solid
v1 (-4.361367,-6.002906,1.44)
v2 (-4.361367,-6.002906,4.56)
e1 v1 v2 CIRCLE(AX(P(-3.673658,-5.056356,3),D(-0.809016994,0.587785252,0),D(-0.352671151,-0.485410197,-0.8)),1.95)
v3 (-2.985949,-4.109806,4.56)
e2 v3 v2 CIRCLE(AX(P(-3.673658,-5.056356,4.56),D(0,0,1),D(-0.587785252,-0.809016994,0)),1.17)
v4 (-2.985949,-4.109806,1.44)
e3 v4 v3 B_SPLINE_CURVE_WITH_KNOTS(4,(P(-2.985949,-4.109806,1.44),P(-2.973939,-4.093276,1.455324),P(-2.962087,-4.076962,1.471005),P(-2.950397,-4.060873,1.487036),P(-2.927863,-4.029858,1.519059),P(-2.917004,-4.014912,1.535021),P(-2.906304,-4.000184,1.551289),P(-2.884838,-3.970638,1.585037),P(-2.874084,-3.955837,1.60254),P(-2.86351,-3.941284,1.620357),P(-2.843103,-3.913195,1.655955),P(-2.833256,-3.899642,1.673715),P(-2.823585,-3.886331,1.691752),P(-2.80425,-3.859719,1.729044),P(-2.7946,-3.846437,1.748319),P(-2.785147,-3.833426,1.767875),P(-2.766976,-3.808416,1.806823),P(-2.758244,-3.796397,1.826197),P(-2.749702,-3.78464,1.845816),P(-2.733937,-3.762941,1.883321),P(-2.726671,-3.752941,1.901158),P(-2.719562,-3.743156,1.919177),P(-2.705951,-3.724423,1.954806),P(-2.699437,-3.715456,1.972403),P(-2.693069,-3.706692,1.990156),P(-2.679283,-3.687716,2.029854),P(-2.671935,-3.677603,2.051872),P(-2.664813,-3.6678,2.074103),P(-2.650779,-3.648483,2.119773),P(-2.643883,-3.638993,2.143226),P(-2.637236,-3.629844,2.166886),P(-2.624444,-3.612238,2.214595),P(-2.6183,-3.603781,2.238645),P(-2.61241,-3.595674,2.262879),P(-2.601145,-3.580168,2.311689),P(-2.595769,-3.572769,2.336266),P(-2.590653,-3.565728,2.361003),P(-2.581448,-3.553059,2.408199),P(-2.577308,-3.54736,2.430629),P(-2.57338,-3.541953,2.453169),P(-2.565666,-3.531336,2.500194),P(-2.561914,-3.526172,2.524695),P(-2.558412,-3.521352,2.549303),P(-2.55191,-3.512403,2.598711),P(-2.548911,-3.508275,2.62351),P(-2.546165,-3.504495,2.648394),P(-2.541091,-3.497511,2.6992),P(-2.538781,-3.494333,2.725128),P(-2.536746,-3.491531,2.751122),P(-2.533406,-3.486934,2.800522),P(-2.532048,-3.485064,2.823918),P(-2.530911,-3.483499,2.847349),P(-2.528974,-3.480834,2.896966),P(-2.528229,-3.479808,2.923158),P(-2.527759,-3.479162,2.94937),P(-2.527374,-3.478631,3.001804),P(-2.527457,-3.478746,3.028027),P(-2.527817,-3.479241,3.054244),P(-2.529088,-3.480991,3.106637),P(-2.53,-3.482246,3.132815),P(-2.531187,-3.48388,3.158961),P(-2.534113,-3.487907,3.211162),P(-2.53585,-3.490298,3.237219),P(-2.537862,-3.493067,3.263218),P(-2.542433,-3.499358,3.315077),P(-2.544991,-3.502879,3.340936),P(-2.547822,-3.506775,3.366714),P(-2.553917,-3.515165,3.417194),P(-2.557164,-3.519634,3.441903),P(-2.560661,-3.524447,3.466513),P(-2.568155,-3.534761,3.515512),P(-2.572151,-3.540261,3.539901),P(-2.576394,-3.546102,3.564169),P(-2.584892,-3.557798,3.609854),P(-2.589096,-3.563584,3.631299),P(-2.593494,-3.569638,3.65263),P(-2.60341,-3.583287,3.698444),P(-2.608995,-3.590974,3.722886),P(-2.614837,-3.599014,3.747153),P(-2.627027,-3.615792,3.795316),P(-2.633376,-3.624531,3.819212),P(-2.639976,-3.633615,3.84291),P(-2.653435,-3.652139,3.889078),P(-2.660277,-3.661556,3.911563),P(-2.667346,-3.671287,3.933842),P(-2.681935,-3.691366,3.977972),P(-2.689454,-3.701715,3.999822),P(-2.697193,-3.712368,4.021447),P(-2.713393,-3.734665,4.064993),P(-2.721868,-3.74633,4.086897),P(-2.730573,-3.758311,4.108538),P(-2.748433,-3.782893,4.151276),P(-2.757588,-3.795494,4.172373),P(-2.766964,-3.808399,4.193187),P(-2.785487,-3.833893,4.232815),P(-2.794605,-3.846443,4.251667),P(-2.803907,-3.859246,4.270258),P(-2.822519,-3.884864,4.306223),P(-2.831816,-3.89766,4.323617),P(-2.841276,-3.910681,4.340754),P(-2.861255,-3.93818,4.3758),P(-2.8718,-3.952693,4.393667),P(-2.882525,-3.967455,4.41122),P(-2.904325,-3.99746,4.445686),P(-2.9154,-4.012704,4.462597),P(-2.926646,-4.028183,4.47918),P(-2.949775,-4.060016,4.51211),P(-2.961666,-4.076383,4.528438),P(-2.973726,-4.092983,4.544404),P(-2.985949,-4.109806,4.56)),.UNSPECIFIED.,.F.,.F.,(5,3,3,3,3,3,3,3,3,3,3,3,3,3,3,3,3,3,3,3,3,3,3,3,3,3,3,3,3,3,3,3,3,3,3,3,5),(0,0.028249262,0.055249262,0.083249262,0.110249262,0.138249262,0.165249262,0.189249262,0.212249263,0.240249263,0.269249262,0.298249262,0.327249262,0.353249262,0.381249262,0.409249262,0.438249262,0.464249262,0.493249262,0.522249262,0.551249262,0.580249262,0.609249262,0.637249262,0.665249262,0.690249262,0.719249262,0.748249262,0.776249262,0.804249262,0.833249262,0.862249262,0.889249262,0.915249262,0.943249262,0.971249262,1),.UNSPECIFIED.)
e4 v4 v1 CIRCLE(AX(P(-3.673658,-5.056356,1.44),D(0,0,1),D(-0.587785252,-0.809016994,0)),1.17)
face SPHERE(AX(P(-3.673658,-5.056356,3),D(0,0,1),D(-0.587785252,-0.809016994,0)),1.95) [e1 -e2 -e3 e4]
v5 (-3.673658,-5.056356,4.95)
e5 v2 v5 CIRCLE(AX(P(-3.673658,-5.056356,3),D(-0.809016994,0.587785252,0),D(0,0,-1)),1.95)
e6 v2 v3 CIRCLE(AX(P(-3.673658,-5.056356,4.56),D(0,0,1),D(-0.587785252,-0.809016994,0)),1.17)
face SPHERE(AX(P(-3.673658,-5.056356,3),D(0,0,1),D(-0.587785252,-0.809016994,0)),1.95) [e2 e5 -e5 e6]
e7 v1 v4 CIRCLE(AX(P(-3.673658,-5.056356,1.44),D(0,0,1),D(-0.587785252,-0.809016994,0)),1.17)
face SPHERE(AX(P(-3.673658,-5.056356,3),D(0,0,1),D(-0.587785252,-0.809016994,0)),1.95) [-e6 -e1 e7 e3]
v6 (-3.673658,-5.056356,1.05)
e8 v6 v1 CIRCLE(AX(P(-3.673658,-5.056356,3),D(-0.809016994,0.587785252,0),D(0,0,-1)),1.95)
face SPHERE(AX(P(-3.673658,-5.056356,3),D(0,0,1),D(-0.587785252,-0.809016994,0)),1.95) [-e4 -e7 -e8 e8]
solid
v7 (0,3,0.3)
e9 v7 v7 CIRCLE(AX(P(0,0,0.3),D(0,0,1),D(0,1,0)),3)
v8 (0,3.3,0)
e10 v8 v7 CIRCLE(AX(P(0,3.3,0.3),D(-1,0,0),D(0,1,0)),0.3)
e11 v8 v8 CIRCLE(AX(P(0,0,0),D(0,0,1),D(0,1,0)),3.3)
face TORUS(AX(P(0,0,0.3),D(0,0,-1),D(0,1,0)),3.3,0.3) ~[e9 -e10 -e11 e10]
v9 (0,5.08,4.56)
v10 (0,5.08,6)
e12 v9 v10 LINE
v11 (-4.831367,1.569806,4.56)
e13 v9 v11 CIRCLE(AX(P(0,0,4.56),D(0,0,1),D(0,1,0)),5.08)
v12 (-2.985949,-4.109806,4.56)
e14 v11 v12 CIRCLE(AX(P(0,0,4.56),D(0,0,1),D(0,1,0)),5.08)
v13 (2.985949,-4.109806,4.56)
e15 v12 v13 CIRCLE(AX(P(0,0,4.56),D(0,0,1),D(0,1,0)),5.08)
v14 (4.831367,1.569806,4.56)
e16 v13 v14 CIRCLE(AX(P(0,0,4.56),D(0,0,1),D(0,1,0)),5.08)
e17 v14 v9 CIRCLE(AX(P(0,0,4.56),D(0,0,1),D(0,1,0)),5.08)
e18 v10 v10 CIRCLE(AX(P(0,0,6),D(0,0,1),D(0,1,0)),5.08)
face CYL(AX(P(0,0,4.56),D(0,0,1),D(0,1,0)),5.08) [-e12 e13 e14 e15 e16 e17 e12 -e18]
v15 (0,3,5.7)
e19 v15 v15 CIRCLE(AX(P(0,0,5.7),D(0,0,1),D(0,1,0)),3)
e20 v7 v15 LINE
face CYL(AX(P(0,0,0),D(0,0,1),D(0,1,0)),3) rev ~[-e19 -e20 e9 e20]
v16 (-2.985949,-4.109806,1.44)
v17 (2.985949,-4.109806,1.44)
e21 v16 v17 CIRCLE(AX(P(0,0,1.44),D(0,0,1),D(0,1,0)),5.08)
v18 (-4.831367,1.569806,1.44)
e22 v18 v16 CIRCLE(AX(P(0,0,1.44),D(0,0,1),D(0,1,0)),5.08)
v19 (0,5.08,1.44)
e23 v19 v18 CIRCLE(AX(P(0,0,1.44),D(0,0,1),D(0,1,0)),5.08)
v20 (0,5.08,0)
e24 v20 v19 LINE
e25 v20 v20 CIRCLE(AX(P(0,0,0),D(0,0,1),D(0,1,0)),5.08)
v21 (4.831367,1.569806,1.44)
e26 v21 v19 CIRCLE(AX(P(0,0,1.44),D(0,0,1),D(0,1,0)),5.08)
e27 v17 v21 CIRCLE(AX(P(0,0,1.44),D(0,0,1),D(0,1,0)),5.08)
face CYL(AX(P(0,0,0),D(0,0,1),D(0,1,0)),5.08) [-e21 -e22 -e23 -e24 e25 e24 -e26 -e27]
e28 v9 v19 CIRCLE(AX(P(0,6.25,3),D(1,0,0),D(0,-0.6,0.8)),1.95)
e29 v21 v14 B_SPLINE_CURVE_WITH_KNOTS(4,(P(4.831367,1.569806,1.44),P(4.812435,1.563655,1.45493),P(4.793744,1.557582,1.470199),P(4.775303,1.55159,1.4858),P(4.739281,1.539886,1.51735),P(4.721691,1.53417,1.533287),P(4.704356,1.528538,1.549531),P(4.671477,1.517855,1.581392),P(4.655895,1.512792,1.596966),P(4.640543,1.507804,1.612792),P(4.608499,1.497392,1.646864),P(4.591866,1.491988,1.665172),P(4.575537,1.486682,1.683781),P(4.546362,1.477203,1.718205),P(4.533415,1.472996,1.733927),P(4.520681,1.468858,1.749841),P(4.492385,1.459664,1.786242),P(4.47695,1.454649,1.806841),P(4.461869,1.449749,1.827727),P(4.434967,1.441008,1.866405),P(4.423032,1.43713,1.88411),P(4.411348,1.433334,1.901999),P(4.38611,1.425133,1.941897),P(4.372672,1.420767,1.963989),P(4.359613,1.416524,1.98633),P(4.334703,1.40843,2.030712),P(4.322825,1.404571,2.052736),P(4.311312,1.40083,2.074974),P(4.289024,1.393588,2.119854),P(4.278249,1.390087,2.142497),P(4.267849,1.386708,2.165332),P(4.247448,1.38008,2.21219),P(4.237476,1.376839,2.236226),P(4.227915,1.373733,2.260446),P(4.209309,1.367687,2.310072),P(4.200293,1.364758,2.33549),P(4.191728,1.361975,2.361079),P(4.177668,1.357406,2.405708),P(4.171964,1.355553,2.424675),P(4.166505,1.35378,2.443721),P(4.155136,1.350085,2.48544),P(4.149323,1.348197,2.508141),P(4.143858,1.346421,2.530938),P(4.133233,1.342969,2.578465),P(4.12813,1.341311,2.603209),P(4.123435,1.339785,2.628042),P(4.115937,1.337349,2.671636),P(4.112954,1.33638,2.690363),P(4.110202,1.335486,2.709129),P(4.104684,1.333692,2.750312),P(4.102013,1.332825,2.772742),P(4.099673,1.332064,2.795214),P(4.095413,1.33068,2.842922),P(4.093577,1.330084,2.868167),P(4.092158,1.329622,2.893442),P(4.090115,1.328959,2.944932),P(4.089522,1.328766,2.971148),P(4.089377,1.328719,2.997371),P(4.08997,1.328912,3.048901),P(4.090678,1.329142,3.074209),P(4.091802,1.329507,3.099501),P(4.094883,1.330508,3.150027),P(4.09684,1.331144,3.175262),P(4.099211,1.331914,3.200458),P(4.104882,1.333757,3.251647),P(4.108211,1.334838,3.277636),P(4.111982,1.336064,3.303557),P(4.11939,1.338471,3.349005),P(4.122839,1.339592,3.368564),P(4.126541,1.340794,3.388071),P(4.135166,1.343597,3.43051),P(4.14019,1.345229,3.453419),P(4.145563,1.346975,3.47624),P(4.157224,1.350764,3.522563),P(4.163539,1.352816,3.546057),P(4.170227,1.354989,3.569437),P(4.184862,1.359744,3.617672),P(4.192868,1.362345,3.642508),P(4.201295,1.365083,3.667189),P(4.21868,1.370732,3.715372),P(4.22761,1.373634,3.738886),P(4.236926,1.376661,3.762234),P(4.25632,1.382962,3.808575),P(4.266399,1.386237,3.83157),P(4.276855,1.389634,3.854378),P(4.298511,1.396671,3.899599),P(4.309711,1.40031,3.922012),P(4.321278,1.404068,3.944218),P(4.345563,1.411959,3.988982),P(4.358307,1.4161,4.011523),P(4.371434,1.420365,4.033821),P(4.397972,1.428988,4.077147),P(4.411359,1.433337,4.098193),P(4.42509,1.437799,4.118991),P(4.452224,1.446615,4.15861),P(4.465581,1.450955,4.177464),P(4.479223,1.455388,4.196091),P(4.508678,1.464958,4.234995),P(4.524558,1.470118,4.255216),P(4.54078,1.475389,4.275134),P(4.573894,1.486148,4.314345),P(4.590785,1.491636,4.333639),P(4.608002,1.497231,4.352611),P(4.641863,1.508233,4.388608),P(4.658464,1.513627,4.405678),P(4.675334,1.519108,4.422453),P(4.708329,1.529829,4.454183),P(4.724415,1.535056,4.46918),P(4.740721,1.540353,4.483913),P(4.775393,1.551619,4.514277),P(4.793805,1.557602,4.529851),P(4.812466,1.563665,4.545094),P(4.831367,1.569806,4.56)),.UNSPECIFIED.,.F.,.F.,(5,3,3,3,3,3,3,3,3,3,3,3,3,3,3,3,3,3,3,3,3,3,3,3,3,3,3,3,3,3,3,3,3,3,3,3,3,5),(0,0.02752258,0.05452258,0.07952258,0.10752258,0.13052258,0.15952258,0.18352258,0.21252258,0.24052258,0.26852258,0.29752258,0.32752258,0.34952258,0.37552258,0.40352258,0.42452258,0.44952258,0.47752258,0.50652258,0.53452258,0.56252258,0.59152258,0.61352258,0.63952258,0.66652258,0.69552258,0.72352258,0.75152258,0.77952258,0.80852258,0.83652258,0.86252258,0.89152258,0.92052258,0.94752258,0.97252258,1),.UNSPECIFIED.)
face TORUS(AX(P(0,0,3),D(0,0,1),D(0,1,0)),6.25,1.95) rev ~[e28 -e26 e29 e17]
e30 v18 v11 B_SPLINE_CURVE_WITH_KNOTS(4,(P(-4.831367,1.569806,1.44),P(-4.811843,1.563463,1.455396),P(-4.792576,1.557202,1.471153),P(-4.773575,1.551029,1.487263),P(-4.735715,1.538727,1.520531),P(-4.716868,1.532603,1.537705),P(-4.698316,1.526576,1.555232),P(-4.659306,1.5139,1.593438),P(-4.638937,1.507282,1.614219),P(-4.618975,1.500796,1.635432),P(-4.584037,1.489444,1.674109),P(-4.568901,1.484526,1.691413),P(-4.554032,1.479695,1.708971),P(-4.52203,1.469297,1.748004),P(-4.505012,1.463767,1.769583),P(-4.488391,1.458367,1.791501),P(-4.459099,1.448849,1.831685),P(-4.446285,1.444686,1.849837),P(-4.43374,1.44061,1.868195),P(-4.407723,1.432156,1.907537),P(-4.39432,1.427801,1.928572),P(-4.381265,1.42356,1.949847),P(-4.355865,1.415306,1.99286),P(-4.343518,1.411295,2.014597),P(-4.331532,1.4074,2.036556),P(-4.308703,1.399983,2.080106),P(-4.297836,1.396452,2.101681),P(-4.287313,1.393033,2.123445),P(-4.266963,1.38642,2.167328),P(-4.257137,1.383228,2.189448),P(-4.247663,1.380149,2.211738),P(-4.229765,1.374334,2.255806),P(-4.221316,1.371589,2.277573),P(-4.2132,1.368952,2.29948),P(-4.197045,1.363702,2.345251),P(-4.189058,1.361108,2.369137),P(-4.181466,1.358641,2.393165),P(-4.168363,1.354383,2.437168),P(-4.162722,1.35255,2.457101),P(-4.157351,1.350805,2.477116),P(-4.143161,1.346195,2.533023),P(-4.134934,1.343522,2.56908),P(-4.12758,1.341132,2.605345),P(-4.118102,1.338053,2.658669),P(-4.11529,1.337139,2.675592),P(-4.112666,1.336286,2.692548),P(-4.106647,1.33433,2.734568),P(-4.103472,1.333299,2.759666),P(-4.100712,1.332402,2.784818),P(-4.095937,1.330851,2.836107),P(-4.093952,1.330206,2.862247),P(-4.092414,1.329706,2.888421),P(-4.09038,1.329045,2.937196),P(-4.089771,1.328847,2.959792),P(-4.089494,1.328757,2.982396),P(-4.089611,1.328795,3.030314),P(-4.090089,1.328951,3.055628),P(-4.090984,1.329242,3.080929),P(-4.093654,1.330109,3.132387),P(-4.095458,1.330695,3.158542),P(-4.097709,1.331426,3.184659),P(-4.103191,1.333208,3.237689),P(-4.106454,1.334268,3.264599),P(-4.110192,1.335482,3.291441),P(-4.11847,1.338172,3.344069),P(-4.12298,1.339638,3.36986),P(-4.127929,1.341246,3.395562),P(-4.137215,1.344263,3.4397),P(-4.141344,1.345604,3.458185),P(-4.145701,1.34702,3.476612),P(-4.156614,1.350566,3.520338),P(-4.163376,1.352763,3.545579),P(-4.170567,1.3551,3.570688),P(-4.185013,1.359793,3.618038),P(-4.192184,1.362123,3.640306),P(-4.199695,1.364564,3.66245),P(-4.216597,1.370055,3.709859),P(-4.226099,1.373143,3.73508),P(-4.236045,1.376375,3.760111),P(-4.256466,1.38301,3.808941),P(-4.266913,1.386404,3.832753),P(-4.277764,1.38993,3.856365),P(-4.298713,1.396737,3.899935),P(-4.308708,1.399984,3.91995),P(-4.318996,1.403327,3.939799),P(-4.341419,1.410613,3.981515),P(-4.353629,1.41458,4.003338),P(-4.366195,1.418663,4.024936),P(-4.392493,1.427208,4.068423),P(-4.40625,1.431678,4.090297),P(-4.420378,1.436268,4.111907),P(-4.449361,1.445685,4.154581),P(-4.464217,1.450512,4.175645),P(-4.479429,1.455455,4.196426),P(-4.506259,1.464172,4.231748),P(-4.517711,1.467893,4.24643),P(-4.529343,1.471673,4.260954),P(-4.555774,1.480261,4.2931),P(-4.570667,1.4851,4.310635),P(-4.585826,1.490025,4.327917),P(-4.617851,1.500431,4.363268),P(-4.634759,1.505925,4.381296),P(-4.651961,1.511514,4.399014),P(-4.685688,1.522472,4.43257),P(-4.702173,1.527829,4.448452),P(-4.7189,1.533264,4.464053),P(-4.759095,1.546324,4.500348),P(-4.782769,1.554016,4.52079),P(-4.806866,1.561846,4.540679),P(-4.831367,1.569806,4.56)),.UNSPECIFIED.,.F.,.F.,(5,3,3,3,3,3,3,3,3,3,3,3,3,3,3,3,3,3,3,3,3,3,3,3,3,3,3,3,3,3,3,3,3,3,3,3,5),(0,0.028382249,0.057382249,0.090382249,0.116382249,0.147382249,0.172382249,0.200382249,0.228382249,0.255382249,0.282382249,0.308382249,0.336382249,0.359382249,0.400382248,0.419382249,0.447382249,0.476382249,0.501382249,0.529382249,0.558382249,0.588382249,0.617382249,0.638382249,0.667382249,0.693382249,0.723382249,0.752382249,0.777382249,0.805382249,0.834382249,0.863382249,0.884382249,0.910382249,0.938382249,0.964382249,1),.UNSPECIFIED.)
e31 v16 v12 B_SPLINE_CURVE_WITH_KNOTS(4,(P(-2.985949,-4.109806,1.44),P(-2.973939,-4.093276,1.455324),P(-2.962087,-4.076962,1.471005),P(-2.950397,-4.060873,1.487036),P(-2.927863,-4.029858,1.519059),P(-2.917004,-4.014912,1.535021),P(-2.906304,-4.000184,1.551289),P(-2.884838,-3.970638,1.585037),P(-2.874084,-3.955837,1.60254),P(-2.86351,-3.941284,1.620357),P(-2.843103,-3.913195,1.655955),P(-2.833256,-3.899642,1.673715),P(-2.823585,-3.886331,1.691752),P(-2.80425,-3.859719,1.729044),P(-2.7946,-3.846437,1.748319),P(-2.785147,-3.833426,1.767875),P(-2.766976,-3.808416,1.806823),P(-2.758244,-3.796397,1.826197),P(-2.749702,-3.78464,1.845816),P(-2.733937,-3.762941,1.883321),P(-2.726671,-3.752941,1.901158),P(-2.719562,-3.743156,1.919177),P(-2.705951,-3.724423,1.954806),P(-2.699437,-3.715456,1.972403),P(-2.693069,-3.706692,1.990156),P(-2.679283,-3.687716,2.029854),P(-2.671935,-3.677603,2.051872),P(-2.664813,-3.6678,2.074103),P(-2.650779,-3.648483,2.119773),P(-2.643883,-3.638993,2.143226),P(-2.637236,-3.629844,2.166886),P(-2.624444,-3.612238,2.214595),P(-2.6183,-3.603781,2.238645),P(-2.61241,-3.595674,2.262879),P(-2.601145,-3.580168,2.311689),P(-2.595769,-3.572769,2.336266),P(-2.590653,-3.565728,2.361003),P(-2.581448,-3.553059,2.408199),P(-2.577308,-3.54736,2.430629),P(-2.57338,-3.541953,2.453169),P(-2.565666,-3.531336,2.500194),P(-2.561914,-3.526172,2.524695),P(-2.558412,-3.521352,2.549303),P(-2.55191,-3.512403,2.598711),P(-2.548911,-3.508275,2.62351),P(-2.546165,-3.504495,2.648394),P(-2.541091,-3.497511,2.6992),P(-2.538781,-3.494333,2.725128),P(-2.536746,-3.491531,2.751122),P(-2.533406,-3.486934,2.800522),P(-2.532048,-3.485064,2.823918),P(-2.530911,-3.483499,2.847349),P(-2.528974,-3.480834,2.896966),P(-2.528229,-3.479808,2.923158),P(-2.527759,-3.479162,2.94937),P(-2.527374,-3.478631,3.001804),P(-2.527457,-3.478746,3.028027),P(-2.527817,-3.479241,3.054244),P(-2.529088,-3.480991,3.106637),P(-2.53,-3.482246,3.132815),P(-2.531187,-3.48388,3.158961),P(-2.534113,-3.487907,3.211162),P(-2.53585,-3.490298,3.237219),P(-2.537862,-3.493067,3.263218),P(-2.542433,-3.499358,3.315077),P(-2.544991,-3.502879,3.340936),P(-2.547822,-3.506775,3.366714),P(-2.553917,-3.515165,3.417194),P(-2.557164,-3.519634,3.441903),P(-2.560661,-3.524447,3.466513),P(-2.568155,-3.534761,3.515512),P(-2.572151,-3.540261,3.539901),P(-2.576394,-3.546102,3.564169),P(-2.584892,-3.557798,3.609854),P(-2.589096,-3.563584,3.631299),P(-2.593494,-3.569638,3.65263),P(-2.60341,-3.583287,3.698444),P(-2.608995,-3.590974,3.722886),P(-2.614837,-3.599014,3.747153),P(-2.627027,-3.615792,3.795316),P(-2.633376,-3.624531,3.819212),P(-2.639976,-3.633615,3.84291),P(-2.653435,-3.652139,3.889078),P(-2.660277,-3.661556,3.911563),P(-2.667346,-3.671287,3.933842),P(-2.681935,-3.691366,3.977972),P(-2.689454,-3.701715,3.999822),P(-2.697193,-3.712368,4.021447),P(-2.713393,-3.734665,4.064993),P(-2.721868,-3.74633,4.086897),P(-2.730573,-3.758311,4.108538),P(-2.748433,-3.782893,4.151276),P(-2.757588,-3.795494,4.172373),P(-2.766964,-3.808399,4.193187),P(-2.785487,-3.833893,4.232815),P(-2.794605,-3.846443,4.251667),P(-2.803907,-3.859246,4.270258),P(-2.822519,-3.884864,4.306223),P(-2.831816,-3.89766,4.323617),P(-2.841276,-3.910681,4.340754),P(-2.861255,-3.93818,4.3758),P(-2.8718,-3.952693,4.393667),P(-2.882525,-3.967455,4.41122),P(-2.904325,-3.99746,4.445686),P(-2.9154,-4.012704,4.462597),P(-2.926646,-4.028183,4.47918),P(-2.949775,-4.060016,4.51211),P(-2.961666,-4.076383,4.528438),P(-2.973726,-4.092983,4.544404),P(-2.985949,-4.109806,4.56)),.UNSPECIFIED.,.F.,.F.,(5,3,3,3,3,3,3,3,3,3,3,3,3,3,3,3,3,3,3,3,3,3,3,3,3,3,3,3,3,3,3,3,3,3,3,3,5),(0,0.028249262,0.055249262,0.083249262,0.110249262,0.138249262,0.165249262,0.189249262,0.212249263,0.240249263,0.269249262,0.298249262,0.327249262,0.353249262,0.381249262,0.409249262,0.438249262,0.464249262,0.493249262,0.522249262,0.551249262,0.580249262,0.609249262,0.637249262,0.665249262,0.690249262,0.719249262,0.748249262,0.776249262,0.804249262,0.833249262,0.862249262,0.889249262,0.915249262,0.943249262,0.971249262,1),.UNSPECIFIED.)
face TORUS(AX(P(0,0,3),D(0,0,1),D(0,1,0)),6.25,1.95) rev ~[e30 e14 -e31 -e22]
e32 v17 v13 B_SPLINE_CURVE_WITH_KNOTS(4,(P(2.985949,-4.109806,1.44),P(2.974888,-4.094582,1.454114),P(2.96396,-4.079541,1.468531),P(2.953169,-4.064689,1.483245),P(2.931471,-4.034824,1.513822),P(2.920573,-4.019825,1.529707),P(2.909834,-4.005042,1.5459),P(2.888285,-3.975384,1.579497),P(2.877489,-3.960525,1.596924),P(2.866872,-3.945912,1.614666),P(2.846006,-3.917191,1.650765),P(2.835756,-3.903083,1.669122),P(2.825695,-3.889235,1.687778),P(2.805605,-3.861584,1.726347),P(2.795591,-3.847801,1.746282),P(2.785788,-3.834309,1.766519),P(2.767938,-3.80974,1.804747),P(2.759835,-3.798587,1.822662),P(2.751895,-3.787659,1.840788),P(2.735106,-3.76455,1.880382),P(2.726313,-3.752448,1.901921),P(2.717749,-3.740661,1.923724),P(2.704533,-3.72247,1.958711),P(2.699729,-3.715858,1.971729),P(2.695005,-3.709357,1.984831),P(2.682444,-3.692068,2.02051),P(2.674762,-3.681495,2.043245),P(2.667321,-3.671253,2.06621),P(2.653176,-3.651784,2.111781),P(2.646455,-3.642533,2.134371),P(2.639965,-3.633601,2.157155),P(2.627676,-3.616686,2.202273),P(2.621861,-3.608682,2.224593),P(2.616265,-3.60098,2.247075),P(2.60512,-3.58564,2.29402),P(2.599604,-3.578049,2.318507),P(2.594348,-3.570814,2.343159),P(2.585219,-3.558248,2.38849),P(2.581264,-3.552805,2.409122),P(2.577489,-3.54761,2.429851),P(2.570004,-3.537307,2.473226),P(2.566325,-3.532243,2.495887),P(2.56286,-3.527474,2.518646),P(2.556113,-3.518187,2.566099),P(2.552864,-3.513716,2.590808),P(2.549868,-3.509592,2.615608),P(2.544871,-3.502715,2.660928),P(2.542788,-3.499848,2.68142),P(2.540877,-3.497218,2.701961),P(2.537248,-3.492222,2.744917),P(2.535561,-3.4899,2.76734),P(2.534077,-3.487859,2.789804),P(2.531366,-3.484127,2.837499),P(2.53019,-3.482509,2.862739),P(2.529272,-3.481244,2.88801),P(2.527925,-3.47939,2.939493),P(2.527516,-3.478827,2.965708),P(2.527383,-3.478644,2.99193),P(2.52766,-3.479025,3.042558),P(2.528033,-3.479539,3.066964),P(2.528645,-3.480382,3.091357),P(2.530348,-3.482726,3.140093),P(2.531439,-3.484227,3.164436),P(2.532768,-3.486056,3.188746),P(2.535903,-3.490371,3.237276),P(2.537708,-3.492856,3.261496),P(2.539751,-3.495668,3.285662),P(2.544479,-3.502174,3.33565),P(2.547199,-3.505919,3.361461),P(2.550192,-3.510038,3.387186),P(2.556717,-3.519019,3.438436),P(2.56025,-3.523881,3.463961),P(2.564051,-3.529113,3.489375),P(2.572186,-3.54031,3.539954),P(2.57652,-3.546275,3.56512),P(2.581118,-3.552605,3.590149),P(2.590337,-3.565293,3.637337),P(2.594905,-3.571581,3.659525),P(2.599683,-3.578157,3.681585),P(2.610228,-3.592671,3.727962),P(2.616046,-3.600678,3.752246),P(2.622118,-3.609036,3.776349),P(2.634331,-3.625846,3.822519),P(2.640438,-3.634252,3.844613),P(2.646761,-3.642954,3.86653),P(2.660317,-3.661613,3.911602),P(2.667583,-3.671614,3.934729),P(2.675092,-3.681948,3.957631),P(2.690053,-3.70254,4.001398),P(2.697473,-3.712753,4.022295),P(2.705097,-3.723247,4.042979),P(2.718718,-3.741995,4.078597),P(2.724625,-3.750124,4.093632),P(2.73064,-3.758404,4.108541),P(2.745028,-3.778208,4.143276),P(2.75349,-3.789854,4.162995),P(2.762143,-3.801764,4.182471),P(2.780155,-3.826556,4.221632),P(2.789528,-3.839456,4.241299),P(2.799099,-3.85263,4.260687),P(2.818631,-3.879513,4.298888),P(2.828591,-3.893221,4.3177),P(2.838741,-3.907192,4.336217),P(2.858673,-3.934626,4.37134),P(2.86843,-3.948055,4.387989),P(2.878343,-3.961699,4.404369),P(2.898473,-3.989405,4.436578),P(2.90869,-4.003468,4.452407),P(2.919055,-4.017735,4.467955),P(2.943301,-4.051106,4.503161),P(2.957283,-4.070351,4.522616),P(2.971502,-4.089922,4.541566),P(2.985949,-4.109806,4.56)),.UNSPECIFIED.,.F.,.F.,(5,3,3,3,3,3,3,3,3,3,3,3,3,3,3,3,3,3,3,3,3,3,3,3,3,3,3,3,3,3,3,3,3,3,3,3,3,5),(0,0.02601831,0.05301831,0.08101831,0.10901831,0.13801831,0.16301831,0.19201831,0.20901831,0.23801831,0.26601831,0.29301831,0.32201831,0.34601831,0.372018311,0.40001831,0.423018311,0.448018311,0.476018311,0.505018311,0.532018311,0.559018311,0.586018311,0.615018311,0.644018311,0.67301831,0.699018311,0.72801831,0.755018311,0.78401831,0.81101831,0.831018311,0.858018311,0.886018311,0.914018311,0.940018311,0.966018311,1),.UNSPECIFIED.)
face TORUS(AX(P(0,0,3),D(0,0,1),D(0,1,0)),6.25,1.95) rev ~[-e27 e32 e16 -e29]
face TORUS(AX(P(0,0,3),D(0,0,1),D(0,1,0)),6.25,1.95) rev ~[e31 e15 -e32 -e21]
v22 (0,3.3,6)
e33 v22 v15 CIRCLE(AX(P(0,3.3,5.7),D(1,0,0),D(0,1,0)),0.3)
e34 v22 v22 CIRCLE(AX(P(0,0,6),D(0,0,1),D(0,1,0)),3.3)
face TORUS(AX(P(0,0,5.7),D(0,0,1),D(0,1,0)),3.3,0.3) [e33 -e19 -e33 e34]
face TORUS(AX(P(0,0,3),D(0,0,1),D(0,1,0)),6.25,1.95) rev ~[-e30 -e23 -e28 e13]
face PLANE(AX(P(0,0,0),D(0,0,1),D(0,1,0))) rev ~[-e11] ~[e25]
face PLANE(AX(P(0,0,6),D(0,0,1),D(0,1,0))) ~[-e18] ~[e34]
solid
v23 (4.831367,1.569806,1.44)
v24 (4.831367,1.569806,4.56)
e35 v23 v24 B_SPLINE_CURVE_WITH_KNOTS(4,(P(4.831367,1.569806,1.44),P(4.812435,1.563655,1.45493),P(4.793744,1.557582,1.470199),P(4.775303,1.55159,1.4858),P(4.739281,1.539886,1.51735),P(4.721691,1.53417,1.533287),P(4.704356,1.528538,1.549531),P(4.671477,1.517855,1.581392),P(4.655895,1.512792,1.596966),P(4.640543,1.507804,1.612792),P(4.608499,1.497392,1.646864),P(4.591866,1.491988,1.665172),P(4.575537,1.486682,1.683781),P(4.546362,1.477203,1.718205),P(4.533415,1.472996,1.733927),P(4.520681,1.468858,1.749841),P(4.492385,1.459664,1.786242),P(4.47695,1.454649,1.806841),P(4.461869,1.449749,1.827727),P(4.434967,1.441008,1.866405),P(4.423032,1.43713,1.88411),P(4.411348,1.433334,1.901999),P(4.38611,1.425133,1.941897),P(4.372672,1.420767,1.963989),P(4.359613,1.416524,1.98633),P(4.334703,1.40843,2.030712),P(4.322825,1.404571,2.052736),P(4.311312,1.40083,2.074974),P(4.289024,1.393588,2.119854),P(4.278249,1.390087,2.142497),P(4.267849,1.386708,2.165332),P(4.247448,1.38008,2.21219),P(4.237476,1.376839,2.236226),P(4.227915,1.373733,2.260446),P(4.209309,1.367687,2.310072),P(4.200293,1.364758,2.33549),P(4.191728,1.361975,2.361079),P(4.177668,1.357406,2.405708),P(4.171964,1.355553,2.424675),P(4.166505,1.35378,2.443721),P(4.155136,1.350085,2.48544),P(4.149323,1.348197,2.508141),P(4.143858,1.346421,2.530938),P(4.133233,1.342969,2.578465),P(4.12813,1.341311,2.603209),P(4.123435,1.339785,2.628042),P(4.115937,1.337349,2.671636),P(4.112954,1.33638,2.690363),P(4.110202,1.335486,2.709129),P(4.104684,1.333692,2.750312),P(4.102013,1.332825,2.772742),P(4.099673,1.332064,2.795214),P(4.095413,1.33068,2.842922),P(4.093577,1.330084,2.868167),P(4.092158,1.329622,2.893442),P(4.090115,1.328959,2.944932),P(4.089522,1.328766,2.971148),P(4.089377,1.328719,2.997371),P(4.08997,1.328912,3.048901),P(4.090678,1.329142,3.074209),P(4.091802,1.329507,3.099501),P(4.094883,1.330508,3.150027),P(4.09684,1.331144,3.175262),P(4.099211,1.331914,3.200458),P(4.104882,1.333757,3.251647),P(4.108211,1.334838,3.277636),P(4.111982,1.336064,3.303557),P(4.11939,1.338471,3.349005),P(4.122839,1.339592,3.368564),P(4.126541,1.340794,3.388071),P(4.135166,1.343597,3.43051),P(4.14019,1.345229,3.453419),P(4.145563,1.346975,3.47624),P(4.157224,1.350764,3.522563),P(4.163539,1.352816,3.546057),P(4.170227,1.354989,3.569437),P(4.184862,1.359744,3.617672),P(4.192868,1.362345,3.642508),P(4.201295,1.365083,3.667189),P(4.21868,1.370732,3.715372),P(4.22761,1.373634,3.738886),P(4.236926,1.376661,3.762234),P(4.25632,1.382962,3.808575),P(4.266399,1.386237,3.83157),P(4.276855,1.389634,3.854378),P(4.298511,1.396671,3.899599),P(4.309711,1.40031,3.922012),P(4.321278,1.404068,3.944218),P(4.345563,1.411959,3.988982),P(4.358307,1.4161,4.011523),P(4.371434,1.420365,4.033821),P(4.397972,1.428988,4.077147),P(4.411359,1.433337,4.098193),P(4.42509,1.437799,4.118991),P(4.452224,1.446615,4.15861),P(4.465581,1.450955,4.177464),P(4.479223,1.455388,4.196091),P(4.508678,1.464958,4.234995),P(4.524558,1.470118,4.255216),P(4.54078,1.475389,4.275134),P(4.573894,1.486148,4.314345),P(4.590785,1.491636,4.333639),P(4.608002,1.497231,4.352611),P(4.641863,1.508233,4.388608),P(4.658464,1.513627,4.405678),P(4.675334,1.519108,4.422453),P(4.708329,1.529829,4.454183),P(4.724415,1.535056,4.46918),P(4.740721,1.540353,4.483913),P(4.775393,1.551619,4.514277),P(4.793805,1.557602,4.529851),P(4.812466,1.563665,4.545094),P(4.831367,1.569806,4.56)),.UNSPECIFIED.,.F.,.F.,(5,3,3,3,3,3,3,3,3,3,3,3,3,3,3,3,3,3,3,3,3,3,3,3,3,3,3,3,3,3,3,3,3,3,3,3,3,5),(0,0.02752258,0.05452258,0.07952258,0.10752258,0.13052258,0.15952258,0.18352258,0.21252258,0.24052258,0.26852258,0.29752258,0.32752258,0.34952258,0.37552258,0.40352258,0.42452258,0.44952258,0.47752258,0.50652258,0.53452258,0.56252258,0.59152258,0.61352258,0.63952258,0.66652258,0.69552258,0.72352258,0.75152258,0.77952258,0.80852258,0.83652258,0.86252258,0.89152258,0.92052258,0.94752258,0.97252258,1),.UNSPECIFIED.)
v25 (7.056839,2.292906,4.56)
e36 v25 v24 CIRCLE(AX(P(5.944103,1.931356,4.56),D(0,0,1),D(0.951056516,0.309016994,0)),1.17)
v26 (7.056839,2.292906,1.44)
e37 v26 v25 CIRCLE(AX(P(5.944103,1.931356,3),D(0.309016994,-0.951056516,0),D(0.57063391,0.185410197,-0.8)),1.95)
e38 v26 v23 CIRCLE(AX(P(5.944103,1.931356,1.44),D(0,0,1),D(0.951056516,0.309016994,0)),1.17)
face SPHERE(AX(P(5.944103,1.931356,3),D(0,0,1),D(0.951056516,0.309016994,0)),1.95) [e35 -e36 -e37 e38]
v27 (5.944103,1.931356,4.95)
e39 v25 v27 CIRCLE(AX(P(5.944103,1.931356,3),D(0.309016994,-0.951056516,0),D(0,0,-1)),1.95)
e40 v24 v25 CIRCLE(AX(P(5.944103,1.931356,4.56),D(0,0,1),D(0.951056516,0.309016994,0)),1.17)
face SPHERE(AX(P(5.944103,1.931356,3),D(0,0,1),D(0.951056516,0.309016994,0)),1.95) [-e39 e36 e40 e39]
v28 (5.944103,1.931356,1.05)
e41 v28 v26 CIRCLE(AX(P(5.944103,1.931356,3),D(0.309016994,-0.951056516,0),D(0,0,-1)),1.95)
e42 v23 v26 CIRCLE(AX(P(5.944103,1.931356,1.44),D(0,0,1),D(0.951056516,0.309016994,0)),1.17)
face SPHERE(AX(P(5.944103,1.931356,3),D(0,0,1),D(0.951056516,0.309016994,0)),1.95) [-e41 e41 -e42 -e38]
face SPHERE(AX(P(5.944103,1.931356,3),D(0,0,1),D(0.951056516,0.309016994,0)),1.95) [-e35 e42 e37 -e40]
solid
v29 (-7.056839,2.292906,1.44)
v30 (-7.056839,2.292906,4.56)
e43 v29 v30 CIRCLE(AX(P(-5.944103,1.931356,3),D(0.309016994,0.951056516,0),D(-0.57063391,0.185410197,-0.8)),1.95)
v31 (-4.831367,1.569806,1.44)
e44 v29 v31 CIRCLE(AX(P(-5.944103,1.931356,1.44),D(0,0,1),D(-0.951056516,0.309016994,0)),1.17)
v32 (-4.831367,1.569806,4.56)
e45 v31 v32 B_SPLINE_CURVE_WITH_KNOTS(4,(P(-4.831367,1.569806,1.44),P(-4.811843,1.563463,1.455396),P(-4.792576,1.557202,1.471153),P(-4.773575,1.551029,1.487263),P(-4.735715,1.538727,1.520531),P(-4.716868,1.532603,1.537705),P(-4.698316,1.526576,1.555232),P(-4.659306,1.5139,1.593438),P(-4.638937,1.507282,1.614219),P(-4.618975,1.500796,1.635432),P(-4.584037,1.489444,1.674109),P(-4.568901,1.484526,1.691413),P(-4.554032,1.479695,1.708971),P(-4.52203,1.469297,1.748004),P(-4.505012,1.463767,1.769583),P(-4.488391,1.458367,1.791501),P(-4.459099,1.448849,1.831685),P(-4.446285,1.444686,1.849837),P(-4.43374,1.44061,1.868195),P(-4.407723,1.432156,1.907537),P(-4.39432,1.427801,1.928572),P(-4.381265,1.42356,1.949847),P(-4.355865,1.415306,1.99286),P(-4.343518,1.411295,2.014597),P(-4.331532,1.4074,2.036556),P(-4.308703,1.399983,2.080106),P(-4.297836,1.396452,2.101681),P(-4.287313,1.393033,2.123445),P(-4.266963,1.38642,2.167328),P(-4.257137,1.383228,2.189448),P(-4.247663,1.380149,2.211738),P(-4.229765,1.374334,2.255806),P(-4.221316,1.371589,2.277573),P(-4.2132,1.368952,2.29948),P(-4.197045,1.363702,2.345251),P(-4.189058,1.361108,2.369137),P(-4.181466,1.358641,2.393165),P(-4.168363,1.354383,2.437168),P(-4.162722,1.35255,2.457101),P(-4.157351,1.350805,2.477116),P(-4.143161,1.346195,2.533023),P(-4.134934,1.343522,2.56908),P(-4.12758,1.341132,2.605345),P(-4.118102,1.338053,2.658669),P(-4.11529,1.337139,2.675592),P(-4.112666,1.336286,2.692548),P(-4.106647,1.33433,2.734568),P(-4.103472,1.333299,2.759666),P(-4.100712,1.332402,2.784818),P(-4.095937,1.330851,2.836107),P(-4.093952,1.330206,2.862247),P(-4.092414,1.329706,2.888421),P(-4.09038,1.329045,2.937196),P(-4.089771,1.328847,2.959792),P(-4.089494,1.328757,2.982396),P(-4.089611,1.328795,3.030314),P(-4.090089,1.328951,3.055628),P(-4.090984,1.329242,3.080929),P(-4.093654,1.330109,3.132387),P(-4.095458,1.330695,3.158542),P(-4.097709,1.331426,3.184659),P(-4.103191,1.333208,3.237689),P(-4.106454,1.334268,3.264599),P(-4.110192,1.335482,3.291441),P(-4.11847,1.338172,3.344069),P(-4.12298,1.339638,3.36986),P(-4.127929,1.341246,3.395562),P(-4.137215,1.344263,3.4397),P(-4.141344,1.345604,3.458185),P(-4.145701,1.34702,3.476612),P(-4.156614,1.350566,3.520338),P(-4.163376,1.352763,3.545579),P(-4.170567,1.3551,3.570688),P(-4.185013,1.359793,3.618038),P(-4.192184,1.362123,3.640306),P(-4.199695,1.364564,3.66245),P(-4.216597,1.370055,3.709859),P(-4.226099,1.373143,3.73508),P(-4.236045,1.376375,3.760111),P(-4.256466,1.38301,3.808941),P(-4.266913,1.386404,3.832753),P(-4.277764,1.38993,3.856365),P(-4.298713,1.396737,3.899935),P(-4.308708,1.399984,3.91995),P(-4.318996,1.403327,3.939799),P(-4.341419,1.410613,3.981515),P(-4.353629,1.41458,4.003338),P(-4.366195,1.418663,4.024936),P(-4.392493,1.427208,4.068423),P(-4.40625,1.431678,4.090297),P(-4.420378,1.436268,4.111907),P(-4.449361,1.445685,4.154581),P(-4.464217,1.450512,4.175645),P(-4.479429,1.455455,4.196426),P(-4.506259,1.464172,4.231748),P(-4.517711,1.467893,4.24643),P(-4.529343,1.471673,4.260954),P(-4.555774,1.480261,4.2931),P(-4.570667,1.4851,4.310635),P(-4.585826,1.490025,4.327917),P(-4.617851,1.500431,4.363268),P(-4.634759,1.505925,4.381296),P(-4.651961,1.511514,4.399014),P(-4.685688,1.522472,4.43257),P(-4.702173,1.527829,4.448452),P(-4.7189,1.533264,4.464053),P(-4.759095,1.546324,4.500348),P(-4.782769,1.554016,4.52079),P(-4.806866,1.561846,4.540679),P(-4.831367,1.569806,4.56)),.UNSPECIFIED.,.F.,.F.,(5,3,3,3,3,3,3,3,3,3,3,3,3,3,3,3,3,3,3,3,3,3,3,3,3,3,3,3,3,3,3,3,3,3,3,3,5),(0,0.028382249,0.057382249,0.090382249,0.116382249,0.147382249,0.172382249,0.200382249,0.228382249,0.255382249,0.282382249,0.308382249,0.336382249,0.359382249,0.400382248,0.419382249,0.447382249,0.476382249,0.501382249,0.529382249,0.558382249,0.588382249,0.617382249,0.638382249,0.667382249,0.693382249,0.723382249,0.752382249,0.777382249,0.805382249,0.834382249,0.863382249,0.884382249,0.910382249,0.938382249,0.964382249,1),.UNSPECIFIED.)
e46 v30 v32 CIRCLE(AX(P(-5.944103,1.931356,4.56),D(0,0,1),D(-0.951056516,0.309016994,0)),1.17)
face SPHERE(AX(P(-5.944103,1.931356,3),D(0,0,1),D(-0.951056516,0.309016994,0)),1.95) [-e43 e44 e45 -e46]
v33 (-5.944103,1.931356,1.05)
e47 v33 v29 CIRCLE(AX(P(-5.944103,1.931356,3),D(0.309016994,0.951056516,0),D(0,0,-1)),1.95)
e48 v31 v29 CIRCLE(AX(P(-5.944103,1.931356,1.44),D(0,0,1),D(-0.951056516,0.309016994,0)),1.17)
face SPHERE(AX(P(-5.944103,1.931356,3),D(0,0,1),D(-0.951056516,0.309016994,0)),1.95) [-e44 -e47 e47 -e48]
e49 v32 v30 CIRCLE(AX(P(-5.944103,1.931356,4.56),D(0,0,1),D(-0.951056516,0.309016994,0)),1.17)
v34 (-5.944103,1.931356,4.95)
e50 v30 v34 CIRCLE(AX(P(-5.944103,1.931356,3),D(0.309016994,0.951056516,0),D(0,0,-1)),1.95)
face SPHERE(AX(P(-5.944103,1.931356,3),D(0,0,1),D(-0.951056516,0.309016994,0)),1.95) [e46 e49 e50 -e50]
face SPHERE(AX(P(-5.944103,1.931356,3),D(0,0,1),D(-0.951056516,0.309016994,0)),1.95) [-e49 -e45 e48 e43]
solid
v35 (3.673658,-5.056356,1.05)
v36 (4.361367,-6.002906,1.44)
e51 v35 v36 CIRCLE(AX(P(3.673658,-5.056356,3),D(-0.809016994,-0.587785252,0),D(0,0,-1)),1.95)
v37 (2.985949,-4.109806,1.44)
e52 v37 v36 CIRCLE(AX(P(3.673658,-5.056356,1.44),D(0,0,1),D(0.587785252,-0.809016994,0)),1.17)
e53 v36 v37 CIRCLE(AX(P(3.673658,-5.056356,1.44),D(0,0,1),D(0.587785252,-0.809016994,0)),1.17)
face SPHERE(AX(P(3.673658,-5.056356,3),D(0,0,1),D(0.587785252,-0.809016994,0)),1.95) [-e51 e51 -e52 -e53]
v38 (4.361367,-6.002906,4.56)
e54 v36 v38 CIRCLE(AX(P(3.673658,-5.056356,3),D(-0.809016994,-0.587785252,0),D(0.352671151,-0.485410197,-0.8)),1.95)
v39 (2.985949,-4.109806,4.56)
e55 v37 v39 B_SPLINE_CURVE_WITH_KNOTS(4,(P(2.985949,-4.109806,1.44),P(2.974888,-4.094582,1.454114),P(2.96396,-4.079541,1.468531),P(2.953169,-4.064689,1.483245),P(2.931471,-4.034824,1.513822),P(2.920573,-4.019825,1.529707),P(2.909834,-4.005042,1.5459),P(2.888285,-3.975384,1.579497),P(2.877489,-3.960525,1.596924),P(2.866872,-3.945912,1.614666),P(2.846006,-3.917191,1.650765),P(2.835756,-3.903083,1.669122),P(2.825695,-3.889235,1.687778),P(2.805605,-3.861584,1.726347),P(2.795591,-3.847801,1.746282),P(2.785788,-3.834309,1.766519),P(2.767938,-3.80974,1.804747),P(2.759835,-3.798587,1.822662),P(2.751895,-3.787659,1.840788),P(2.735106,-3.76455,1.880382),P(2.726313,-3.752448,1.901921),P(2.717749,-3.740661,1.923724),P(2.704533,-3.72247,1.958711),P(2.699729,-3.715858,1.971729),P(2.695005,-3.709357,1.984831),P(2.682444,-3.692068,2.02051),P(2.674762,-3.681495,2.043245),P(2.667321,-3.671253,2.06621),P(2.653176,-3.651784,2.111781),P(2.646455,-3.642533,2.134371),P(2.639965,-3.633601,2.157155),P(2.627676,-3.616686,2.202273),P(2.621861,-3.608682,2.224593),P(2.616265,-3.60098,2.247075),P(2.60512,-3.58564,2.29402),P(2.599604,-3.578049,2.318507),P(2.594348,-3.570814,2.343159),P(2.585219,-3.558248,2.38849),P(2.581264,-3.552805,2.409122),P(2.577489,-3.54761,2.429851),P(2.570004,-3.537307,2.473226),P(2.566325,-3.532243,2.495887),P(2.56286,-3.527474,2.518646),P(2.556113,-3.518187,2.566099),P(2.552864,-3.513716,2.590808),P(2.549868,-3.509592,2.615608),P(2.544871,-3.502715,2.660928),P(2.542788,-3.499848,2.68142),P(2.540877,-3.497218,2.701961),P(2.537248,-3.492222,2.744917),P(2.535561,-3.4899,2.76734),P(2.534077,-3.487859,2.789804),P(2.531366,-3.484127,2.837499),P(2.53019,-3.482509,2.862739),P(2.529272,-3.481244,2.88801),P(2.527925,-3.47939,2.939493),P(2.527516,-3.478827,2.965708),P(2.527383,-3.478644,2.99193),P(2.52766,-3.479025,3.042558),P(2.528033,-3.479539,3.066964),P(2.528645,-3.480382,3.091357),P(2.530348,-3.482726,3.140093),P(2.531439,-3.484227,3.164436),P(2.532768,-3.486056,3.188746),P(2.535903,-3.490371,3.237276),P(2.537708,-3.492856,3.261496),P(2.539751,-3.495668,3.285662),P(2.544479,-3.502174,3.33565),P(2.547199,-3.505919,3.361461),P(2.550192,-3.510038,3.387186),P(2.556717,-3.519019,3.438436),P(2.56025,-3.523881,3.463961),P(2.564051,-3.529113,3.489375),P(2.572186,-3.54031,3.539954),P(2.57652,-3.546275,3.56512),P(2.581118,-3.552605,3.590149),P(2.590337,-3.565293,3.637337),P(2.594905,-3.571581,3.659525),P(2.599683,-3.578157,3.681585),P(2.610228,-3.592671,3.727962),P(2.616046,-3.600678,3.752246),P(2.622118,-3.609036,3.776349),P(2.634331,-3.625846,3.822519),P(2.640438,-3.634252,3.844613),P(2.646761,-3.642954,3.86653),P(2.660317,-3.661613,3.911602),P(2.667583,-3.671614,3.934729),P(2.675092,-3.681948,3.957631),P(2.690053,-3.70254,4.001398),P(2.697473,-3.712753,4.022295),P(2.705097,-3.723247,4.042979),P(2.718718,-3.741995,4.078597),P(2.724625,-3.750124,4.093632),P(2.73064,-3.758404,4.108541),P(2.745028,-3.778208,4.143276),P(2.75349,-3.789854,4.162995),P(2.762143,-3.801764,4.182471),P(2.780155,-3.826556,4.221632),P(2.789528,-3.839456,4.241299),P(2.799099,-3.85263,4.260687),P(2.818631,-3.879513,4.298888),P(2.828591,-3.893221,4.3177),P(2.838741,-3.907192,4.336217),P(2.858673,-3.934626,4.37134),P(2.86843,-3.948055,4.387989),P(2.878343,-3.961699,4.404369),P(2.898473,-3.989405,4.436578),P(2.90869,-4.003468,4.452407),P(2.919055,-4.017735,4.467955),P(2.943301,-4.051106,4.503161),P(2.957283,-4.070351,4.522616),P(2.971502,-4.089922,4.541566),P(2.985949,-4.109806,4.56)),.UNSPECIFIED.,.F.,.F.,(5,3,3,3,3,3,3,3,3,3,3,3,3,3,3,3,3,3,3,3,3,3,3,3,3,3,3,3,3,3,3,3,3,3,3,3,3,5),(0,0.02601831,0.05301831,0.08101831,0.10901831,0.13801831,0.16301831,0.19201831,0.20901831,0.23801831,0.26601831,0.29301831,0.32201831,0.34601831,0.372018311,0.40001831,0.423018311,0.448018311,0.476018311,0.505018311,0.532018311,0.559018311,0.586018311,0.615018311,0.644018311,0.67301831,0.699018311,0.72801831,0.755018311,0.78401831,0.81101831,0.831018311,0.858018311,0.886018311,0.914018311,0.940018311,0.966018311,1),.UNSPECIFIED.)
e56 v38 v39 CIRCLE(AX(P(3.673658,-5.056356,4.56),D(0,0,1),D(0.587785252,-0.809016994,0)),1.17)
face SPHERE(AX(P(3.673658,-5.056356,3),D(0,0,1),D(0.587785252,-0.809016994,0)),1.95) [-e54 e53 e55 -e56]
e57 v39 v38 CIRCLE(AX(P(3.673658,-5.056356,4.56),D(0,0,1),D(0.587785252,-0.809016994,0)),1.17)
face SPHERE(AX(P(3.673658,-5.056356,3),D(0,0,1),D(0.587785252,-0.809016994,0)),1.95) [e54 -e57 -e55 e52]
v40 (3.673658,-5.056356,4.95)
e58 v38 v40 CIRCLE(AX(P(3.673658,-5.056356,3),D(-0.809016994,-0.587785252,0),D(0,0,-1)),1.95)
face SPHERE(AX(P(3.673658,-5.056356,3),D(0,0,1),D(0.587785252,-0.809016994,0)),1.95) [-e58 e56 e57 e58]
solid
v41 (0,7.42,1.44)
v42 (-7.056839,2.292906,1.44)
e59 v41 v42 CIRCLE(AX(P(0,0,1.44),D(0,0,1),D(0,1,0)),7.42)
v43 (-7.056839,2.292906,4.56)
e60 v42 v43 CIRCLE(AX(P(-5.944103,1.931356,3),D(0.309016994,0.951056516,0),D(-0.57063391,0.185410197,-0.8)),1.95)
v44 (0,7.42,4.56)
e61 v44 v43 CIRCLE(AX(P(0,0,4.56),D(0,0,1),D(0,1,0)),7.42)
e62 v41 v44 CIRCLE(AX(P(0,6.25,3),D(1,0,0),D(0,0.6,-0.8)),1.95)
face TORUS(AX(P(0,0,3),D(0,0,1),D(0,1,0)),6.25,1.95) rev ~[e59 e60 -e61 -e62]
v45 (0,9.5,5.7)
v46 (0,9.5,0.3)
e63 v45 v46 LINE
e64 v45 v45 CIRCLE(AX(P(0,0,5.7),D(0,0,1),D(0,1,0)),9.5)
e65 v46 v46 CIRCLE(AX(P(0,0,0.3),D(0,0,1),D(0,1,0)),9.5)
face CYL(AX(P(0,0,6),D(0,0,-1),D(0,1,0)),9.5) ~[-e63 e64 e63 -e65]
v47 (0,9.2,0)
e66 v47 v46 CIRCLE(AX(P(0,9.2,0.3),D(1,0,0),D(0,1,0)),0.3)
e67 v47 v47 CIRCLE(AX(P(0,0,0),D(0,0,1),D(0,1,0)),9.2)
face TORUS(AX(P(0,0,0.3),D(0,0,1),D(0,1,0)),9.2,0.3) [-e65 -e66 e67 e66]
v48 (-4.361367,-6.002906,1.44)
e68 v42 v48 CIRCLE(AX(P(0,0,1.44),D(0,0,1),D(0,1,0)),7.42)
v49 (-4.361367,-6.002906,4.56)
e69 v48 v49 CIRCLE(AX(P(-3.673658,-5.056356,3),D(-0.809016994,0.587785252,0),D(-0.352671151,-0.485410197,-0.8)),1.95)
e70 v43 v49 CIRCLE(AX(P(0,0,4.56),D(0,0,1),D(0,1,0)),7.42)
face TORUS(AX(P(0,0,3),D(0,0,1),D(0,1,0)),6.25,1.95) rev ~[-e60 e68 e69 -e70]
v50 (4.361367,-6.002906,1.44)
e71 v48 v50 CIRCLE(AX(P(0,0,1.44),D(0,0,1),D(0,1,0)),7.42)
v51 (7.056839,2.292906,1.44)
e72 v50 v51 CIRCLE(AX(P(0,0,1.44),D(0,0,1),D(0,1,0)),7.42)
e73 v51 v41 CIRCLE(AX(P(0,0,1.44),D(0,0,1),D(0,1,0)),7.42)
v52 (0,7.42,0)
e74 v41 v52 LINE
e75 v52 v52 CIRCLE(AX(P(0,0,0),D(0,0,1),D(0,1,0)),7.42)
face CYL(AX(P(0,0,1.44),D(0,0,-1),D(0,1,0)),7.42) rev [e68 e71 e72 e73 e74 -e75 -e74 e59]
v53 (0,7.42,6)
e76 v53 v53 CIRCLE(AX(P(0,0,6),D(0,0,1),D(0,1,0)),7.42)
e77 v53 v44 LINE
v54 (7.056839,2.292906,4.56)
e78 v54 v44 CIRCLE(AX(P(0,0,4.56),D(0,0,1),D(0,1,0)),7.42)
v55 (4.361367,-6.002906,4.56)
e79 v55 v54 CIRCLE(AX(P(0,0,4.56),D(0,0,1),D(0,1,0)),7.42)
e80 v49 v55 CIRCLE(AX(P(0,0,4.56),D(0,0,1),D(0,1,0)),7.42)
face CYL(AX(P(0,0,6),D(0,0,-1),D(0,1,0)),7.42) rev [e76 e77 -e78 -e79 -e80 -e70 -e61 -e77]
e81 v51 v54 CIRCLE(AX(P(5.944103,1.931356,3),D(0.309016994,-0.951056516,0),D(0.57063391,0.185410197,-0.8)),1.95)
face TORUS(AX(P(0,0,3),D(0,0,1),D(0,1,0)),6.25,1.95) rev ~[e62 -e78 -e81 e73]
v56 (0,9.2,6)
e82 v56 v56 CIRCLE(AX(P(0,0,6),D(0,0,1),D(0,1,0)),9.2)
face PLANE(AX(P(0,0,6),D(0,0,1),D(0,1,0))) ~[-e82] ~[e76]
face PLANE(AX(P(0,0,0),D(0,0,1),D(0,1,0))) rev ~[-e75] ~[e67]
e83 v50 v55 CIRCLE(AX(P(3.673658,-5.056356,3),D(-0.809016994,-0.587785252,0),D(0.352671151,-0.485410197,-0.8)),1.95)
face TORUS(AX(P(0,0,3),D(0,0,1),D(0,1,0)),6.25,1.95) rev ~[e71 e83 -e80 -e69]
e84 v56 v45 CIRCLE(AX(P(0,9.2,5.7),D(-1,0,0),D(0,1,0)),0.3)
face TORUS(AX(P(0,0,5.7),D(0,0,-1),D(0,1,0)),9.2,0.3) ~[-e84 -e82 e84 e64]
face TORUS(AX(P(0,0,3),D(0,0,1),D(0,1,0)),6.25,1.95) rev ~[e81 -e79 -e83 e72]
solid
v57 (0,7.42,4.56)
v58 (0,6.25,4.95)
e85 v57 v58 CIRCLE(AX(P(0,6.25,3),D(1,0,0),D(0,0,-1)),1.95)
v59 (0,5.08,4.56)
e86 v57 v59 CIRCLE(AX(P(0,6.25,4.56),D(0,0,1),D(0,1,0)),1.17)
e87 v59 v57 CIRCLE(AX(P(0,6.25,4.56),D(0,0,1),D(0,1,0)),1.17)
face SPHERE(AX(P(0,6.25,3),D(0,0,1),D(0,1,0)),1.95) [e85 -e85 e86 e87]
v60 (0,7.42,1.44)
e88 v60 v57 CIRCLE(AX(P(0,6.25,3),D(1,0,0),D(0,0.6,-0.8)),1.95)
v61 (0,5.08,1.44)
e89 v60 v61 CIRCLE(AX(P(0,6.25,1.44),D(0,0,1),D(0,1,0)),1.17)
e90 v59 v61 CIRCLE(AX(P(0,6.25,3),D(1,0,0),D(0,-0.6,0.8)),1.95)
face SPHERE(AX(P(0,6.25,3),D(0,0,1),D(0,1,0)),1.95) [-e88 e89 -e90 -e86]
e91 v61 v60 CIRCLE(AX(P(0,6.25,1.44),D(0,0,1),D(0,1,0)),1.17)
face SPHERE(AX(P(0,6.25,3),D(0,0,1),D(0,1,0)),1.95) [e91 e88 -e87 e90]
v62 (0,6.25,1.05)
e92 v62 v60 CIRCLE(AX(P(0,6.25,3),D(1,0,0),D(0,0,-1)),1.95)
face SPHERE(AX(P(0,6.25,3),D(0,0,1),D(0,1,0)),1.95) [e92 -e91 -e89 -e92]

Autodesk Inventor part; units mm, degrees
ref_plane "YZ Plane" through (0, 0, 0) normal (1, 0, 0) x (0, 1, 0)
sketch "Boceto1" plane through (0, 0, 0) normal (0, 0, 1) x (1, 0, 0)
  point P0 (0, 0)
sketch "Boceto2" plane through (0, 0, 0) normal (1, 0, 0) x (0, 1, 0)
  line L0 (3, 6) -> (9.5, 6)
  line L1 (3, 0) -> (3, 6)
  line L2 (9.5, 0) -> (3, 0)
  line L3 (9.5, 6) -> (9.5, 0)
  line L4 (0, 0) -> (0, 20) construction
  line L5 (0, 0) -> (0, 20)
  line L6 (-7.2, 0) -> (43.2, 0) projected
  dimension "d1" = 6
  dimension "d3" = 19
  dimension "d5" = 6
revolve "Revolución1" add sketch "Boceto2" angle 360 about axis through (0, 0, 0) along (0, 0, 1)
ref_plane "WorkPlane3" through (0, 0, 0) normal (0, 0, -1) x (-1, 0, 0)
sketch "Boceto3" plane through (0, 0, 0) normal (1, 0, 0) x (0, 1, 0)
  arc A0 (7.42, 1.44) -> (7.42, 4.56) centre (6.25, 3) ccw
  line L0 (7.42, 6) -> (7.42, 4.56)
  line L1 (5.08, 6) -> (7.42, 6)
  line L2 (5.08, 4.56) -> (5.08, 6)
  arc A1 (5.08, 4.56) -> (5.08, 1.44) centre (6.25, 3) ccw
  line L3 (5.08, 0) -> (5.08, 1.44)
  line L4 (7.42, 0) -> (5.08, 0)
  line L5 (7.42, 1.44) -> (7.42, 0)
  line L6 (9.5, 0) -> (-9.5, 0) construction
  line L7 (9.5, 6) -> (-9.5, 6) construction
  line L8 (0, -42.2904) -> (0, 61.2904)
  line L9 (0, 82.0066) -> (0, -63.0066) projected
  dimension "d9" = 3.9
  dimension "d21" = 5.08
  dimension "d22" = 6.25
  dimension "d23" = 7.42
revolve "Revolución2" cut sketch "Boceto3" angle 360 about axis through (0, 0, -42.2904) along (0, 0, 1)
ref_plane "WorkPlane4" through (0, 0, 6) normal (0, 0, -1) x (-1, 0, 0)
sketch "Boceto4" plane through (0, 0, 6) normal (0, 0, -1) x (-1, 0, 0)
  point P0 (0, 0)
sketch "Boceto5" plane through (0, 0, 0) normal (1, 0, 0) x (0, 1, 0)
  arc A0 (6.25, 1.05) -> (6.25, 4.95) centre (6.25, 3) ccw
  line L0 (6.25, 1.05) -> (6.25, 4.95)
  line L1 (7.42, 0) -> (-7.42, 0) construction
  line L2 (6.25, 1.05) -> (6.25, 4.95)
  arc A1 (7.42, 1.44) -> (7.42, 4.56) centre (6.25, 3) ccw projected
  dimension "d13" = 0
  dimension "d15" = 3.9001
revolve "Revolución3" add sketch "Boceto5" angle 360 about axis through (0, 6.25, 1.05) along (0, 0, 1)
pattern_circular "Matriz polar1" count 5 over 360 about axis through (0, 0, 3) along (0, 0, 1) of "Revolución3"
fillet "Empalme1" radius 0.3 4 edges at (0, -9.5, 6) (0, -9.5, 0) (0, -3, 6) (0, -3, 0)
equation "\"d17\" = msp_pocet"
equation "\"d20\" = r"
equation "\"d1\" = Diam"
equation "\"d3\" = DD"
equation "\"d5\" = msp_mdtd2"
equation "\"d9\" = msp_mdtd6"
equation "\"d21\" = 0.5 * msp_d1"
equation "\"d22\" = 0.5 * msp_ds"
equation "\"d23\" = 0.5 * msp_dd1"
equation "\"Diam\" = 6"
equation "\"DD\" = 19"
equation "\"B\" = 6"
equation "\"r\" = 0.3"
equation "\"msp_ds\" = 0.5 * Diam + 0.5 * DD"
equation "\"msp_d0\" = -0.3 * Diam + 0.3 * DD"
equation "\"msp_d1\" = msp_ds - 0.6 * msp_d0"
equation "\"msp_dd1\" = msp_ds + 0.6 * msp_d0"
equation "\"msp_pom\" = 1.5 * msp_ds"
equation "\"msp_mdtd2\" = B"
equation "\"msp_mdtd4\" = msp_ds"
equation "\"msp_mdtd6\" = msp_d0"
equation "\"msp_mdtd7\" = 0.5 * msp_mdtd2"
equation "\"msp_pocet\" = 5.207692"
properties part number "BS 290 SKF - SKF 626-2RS1" material "Acero, suave"
